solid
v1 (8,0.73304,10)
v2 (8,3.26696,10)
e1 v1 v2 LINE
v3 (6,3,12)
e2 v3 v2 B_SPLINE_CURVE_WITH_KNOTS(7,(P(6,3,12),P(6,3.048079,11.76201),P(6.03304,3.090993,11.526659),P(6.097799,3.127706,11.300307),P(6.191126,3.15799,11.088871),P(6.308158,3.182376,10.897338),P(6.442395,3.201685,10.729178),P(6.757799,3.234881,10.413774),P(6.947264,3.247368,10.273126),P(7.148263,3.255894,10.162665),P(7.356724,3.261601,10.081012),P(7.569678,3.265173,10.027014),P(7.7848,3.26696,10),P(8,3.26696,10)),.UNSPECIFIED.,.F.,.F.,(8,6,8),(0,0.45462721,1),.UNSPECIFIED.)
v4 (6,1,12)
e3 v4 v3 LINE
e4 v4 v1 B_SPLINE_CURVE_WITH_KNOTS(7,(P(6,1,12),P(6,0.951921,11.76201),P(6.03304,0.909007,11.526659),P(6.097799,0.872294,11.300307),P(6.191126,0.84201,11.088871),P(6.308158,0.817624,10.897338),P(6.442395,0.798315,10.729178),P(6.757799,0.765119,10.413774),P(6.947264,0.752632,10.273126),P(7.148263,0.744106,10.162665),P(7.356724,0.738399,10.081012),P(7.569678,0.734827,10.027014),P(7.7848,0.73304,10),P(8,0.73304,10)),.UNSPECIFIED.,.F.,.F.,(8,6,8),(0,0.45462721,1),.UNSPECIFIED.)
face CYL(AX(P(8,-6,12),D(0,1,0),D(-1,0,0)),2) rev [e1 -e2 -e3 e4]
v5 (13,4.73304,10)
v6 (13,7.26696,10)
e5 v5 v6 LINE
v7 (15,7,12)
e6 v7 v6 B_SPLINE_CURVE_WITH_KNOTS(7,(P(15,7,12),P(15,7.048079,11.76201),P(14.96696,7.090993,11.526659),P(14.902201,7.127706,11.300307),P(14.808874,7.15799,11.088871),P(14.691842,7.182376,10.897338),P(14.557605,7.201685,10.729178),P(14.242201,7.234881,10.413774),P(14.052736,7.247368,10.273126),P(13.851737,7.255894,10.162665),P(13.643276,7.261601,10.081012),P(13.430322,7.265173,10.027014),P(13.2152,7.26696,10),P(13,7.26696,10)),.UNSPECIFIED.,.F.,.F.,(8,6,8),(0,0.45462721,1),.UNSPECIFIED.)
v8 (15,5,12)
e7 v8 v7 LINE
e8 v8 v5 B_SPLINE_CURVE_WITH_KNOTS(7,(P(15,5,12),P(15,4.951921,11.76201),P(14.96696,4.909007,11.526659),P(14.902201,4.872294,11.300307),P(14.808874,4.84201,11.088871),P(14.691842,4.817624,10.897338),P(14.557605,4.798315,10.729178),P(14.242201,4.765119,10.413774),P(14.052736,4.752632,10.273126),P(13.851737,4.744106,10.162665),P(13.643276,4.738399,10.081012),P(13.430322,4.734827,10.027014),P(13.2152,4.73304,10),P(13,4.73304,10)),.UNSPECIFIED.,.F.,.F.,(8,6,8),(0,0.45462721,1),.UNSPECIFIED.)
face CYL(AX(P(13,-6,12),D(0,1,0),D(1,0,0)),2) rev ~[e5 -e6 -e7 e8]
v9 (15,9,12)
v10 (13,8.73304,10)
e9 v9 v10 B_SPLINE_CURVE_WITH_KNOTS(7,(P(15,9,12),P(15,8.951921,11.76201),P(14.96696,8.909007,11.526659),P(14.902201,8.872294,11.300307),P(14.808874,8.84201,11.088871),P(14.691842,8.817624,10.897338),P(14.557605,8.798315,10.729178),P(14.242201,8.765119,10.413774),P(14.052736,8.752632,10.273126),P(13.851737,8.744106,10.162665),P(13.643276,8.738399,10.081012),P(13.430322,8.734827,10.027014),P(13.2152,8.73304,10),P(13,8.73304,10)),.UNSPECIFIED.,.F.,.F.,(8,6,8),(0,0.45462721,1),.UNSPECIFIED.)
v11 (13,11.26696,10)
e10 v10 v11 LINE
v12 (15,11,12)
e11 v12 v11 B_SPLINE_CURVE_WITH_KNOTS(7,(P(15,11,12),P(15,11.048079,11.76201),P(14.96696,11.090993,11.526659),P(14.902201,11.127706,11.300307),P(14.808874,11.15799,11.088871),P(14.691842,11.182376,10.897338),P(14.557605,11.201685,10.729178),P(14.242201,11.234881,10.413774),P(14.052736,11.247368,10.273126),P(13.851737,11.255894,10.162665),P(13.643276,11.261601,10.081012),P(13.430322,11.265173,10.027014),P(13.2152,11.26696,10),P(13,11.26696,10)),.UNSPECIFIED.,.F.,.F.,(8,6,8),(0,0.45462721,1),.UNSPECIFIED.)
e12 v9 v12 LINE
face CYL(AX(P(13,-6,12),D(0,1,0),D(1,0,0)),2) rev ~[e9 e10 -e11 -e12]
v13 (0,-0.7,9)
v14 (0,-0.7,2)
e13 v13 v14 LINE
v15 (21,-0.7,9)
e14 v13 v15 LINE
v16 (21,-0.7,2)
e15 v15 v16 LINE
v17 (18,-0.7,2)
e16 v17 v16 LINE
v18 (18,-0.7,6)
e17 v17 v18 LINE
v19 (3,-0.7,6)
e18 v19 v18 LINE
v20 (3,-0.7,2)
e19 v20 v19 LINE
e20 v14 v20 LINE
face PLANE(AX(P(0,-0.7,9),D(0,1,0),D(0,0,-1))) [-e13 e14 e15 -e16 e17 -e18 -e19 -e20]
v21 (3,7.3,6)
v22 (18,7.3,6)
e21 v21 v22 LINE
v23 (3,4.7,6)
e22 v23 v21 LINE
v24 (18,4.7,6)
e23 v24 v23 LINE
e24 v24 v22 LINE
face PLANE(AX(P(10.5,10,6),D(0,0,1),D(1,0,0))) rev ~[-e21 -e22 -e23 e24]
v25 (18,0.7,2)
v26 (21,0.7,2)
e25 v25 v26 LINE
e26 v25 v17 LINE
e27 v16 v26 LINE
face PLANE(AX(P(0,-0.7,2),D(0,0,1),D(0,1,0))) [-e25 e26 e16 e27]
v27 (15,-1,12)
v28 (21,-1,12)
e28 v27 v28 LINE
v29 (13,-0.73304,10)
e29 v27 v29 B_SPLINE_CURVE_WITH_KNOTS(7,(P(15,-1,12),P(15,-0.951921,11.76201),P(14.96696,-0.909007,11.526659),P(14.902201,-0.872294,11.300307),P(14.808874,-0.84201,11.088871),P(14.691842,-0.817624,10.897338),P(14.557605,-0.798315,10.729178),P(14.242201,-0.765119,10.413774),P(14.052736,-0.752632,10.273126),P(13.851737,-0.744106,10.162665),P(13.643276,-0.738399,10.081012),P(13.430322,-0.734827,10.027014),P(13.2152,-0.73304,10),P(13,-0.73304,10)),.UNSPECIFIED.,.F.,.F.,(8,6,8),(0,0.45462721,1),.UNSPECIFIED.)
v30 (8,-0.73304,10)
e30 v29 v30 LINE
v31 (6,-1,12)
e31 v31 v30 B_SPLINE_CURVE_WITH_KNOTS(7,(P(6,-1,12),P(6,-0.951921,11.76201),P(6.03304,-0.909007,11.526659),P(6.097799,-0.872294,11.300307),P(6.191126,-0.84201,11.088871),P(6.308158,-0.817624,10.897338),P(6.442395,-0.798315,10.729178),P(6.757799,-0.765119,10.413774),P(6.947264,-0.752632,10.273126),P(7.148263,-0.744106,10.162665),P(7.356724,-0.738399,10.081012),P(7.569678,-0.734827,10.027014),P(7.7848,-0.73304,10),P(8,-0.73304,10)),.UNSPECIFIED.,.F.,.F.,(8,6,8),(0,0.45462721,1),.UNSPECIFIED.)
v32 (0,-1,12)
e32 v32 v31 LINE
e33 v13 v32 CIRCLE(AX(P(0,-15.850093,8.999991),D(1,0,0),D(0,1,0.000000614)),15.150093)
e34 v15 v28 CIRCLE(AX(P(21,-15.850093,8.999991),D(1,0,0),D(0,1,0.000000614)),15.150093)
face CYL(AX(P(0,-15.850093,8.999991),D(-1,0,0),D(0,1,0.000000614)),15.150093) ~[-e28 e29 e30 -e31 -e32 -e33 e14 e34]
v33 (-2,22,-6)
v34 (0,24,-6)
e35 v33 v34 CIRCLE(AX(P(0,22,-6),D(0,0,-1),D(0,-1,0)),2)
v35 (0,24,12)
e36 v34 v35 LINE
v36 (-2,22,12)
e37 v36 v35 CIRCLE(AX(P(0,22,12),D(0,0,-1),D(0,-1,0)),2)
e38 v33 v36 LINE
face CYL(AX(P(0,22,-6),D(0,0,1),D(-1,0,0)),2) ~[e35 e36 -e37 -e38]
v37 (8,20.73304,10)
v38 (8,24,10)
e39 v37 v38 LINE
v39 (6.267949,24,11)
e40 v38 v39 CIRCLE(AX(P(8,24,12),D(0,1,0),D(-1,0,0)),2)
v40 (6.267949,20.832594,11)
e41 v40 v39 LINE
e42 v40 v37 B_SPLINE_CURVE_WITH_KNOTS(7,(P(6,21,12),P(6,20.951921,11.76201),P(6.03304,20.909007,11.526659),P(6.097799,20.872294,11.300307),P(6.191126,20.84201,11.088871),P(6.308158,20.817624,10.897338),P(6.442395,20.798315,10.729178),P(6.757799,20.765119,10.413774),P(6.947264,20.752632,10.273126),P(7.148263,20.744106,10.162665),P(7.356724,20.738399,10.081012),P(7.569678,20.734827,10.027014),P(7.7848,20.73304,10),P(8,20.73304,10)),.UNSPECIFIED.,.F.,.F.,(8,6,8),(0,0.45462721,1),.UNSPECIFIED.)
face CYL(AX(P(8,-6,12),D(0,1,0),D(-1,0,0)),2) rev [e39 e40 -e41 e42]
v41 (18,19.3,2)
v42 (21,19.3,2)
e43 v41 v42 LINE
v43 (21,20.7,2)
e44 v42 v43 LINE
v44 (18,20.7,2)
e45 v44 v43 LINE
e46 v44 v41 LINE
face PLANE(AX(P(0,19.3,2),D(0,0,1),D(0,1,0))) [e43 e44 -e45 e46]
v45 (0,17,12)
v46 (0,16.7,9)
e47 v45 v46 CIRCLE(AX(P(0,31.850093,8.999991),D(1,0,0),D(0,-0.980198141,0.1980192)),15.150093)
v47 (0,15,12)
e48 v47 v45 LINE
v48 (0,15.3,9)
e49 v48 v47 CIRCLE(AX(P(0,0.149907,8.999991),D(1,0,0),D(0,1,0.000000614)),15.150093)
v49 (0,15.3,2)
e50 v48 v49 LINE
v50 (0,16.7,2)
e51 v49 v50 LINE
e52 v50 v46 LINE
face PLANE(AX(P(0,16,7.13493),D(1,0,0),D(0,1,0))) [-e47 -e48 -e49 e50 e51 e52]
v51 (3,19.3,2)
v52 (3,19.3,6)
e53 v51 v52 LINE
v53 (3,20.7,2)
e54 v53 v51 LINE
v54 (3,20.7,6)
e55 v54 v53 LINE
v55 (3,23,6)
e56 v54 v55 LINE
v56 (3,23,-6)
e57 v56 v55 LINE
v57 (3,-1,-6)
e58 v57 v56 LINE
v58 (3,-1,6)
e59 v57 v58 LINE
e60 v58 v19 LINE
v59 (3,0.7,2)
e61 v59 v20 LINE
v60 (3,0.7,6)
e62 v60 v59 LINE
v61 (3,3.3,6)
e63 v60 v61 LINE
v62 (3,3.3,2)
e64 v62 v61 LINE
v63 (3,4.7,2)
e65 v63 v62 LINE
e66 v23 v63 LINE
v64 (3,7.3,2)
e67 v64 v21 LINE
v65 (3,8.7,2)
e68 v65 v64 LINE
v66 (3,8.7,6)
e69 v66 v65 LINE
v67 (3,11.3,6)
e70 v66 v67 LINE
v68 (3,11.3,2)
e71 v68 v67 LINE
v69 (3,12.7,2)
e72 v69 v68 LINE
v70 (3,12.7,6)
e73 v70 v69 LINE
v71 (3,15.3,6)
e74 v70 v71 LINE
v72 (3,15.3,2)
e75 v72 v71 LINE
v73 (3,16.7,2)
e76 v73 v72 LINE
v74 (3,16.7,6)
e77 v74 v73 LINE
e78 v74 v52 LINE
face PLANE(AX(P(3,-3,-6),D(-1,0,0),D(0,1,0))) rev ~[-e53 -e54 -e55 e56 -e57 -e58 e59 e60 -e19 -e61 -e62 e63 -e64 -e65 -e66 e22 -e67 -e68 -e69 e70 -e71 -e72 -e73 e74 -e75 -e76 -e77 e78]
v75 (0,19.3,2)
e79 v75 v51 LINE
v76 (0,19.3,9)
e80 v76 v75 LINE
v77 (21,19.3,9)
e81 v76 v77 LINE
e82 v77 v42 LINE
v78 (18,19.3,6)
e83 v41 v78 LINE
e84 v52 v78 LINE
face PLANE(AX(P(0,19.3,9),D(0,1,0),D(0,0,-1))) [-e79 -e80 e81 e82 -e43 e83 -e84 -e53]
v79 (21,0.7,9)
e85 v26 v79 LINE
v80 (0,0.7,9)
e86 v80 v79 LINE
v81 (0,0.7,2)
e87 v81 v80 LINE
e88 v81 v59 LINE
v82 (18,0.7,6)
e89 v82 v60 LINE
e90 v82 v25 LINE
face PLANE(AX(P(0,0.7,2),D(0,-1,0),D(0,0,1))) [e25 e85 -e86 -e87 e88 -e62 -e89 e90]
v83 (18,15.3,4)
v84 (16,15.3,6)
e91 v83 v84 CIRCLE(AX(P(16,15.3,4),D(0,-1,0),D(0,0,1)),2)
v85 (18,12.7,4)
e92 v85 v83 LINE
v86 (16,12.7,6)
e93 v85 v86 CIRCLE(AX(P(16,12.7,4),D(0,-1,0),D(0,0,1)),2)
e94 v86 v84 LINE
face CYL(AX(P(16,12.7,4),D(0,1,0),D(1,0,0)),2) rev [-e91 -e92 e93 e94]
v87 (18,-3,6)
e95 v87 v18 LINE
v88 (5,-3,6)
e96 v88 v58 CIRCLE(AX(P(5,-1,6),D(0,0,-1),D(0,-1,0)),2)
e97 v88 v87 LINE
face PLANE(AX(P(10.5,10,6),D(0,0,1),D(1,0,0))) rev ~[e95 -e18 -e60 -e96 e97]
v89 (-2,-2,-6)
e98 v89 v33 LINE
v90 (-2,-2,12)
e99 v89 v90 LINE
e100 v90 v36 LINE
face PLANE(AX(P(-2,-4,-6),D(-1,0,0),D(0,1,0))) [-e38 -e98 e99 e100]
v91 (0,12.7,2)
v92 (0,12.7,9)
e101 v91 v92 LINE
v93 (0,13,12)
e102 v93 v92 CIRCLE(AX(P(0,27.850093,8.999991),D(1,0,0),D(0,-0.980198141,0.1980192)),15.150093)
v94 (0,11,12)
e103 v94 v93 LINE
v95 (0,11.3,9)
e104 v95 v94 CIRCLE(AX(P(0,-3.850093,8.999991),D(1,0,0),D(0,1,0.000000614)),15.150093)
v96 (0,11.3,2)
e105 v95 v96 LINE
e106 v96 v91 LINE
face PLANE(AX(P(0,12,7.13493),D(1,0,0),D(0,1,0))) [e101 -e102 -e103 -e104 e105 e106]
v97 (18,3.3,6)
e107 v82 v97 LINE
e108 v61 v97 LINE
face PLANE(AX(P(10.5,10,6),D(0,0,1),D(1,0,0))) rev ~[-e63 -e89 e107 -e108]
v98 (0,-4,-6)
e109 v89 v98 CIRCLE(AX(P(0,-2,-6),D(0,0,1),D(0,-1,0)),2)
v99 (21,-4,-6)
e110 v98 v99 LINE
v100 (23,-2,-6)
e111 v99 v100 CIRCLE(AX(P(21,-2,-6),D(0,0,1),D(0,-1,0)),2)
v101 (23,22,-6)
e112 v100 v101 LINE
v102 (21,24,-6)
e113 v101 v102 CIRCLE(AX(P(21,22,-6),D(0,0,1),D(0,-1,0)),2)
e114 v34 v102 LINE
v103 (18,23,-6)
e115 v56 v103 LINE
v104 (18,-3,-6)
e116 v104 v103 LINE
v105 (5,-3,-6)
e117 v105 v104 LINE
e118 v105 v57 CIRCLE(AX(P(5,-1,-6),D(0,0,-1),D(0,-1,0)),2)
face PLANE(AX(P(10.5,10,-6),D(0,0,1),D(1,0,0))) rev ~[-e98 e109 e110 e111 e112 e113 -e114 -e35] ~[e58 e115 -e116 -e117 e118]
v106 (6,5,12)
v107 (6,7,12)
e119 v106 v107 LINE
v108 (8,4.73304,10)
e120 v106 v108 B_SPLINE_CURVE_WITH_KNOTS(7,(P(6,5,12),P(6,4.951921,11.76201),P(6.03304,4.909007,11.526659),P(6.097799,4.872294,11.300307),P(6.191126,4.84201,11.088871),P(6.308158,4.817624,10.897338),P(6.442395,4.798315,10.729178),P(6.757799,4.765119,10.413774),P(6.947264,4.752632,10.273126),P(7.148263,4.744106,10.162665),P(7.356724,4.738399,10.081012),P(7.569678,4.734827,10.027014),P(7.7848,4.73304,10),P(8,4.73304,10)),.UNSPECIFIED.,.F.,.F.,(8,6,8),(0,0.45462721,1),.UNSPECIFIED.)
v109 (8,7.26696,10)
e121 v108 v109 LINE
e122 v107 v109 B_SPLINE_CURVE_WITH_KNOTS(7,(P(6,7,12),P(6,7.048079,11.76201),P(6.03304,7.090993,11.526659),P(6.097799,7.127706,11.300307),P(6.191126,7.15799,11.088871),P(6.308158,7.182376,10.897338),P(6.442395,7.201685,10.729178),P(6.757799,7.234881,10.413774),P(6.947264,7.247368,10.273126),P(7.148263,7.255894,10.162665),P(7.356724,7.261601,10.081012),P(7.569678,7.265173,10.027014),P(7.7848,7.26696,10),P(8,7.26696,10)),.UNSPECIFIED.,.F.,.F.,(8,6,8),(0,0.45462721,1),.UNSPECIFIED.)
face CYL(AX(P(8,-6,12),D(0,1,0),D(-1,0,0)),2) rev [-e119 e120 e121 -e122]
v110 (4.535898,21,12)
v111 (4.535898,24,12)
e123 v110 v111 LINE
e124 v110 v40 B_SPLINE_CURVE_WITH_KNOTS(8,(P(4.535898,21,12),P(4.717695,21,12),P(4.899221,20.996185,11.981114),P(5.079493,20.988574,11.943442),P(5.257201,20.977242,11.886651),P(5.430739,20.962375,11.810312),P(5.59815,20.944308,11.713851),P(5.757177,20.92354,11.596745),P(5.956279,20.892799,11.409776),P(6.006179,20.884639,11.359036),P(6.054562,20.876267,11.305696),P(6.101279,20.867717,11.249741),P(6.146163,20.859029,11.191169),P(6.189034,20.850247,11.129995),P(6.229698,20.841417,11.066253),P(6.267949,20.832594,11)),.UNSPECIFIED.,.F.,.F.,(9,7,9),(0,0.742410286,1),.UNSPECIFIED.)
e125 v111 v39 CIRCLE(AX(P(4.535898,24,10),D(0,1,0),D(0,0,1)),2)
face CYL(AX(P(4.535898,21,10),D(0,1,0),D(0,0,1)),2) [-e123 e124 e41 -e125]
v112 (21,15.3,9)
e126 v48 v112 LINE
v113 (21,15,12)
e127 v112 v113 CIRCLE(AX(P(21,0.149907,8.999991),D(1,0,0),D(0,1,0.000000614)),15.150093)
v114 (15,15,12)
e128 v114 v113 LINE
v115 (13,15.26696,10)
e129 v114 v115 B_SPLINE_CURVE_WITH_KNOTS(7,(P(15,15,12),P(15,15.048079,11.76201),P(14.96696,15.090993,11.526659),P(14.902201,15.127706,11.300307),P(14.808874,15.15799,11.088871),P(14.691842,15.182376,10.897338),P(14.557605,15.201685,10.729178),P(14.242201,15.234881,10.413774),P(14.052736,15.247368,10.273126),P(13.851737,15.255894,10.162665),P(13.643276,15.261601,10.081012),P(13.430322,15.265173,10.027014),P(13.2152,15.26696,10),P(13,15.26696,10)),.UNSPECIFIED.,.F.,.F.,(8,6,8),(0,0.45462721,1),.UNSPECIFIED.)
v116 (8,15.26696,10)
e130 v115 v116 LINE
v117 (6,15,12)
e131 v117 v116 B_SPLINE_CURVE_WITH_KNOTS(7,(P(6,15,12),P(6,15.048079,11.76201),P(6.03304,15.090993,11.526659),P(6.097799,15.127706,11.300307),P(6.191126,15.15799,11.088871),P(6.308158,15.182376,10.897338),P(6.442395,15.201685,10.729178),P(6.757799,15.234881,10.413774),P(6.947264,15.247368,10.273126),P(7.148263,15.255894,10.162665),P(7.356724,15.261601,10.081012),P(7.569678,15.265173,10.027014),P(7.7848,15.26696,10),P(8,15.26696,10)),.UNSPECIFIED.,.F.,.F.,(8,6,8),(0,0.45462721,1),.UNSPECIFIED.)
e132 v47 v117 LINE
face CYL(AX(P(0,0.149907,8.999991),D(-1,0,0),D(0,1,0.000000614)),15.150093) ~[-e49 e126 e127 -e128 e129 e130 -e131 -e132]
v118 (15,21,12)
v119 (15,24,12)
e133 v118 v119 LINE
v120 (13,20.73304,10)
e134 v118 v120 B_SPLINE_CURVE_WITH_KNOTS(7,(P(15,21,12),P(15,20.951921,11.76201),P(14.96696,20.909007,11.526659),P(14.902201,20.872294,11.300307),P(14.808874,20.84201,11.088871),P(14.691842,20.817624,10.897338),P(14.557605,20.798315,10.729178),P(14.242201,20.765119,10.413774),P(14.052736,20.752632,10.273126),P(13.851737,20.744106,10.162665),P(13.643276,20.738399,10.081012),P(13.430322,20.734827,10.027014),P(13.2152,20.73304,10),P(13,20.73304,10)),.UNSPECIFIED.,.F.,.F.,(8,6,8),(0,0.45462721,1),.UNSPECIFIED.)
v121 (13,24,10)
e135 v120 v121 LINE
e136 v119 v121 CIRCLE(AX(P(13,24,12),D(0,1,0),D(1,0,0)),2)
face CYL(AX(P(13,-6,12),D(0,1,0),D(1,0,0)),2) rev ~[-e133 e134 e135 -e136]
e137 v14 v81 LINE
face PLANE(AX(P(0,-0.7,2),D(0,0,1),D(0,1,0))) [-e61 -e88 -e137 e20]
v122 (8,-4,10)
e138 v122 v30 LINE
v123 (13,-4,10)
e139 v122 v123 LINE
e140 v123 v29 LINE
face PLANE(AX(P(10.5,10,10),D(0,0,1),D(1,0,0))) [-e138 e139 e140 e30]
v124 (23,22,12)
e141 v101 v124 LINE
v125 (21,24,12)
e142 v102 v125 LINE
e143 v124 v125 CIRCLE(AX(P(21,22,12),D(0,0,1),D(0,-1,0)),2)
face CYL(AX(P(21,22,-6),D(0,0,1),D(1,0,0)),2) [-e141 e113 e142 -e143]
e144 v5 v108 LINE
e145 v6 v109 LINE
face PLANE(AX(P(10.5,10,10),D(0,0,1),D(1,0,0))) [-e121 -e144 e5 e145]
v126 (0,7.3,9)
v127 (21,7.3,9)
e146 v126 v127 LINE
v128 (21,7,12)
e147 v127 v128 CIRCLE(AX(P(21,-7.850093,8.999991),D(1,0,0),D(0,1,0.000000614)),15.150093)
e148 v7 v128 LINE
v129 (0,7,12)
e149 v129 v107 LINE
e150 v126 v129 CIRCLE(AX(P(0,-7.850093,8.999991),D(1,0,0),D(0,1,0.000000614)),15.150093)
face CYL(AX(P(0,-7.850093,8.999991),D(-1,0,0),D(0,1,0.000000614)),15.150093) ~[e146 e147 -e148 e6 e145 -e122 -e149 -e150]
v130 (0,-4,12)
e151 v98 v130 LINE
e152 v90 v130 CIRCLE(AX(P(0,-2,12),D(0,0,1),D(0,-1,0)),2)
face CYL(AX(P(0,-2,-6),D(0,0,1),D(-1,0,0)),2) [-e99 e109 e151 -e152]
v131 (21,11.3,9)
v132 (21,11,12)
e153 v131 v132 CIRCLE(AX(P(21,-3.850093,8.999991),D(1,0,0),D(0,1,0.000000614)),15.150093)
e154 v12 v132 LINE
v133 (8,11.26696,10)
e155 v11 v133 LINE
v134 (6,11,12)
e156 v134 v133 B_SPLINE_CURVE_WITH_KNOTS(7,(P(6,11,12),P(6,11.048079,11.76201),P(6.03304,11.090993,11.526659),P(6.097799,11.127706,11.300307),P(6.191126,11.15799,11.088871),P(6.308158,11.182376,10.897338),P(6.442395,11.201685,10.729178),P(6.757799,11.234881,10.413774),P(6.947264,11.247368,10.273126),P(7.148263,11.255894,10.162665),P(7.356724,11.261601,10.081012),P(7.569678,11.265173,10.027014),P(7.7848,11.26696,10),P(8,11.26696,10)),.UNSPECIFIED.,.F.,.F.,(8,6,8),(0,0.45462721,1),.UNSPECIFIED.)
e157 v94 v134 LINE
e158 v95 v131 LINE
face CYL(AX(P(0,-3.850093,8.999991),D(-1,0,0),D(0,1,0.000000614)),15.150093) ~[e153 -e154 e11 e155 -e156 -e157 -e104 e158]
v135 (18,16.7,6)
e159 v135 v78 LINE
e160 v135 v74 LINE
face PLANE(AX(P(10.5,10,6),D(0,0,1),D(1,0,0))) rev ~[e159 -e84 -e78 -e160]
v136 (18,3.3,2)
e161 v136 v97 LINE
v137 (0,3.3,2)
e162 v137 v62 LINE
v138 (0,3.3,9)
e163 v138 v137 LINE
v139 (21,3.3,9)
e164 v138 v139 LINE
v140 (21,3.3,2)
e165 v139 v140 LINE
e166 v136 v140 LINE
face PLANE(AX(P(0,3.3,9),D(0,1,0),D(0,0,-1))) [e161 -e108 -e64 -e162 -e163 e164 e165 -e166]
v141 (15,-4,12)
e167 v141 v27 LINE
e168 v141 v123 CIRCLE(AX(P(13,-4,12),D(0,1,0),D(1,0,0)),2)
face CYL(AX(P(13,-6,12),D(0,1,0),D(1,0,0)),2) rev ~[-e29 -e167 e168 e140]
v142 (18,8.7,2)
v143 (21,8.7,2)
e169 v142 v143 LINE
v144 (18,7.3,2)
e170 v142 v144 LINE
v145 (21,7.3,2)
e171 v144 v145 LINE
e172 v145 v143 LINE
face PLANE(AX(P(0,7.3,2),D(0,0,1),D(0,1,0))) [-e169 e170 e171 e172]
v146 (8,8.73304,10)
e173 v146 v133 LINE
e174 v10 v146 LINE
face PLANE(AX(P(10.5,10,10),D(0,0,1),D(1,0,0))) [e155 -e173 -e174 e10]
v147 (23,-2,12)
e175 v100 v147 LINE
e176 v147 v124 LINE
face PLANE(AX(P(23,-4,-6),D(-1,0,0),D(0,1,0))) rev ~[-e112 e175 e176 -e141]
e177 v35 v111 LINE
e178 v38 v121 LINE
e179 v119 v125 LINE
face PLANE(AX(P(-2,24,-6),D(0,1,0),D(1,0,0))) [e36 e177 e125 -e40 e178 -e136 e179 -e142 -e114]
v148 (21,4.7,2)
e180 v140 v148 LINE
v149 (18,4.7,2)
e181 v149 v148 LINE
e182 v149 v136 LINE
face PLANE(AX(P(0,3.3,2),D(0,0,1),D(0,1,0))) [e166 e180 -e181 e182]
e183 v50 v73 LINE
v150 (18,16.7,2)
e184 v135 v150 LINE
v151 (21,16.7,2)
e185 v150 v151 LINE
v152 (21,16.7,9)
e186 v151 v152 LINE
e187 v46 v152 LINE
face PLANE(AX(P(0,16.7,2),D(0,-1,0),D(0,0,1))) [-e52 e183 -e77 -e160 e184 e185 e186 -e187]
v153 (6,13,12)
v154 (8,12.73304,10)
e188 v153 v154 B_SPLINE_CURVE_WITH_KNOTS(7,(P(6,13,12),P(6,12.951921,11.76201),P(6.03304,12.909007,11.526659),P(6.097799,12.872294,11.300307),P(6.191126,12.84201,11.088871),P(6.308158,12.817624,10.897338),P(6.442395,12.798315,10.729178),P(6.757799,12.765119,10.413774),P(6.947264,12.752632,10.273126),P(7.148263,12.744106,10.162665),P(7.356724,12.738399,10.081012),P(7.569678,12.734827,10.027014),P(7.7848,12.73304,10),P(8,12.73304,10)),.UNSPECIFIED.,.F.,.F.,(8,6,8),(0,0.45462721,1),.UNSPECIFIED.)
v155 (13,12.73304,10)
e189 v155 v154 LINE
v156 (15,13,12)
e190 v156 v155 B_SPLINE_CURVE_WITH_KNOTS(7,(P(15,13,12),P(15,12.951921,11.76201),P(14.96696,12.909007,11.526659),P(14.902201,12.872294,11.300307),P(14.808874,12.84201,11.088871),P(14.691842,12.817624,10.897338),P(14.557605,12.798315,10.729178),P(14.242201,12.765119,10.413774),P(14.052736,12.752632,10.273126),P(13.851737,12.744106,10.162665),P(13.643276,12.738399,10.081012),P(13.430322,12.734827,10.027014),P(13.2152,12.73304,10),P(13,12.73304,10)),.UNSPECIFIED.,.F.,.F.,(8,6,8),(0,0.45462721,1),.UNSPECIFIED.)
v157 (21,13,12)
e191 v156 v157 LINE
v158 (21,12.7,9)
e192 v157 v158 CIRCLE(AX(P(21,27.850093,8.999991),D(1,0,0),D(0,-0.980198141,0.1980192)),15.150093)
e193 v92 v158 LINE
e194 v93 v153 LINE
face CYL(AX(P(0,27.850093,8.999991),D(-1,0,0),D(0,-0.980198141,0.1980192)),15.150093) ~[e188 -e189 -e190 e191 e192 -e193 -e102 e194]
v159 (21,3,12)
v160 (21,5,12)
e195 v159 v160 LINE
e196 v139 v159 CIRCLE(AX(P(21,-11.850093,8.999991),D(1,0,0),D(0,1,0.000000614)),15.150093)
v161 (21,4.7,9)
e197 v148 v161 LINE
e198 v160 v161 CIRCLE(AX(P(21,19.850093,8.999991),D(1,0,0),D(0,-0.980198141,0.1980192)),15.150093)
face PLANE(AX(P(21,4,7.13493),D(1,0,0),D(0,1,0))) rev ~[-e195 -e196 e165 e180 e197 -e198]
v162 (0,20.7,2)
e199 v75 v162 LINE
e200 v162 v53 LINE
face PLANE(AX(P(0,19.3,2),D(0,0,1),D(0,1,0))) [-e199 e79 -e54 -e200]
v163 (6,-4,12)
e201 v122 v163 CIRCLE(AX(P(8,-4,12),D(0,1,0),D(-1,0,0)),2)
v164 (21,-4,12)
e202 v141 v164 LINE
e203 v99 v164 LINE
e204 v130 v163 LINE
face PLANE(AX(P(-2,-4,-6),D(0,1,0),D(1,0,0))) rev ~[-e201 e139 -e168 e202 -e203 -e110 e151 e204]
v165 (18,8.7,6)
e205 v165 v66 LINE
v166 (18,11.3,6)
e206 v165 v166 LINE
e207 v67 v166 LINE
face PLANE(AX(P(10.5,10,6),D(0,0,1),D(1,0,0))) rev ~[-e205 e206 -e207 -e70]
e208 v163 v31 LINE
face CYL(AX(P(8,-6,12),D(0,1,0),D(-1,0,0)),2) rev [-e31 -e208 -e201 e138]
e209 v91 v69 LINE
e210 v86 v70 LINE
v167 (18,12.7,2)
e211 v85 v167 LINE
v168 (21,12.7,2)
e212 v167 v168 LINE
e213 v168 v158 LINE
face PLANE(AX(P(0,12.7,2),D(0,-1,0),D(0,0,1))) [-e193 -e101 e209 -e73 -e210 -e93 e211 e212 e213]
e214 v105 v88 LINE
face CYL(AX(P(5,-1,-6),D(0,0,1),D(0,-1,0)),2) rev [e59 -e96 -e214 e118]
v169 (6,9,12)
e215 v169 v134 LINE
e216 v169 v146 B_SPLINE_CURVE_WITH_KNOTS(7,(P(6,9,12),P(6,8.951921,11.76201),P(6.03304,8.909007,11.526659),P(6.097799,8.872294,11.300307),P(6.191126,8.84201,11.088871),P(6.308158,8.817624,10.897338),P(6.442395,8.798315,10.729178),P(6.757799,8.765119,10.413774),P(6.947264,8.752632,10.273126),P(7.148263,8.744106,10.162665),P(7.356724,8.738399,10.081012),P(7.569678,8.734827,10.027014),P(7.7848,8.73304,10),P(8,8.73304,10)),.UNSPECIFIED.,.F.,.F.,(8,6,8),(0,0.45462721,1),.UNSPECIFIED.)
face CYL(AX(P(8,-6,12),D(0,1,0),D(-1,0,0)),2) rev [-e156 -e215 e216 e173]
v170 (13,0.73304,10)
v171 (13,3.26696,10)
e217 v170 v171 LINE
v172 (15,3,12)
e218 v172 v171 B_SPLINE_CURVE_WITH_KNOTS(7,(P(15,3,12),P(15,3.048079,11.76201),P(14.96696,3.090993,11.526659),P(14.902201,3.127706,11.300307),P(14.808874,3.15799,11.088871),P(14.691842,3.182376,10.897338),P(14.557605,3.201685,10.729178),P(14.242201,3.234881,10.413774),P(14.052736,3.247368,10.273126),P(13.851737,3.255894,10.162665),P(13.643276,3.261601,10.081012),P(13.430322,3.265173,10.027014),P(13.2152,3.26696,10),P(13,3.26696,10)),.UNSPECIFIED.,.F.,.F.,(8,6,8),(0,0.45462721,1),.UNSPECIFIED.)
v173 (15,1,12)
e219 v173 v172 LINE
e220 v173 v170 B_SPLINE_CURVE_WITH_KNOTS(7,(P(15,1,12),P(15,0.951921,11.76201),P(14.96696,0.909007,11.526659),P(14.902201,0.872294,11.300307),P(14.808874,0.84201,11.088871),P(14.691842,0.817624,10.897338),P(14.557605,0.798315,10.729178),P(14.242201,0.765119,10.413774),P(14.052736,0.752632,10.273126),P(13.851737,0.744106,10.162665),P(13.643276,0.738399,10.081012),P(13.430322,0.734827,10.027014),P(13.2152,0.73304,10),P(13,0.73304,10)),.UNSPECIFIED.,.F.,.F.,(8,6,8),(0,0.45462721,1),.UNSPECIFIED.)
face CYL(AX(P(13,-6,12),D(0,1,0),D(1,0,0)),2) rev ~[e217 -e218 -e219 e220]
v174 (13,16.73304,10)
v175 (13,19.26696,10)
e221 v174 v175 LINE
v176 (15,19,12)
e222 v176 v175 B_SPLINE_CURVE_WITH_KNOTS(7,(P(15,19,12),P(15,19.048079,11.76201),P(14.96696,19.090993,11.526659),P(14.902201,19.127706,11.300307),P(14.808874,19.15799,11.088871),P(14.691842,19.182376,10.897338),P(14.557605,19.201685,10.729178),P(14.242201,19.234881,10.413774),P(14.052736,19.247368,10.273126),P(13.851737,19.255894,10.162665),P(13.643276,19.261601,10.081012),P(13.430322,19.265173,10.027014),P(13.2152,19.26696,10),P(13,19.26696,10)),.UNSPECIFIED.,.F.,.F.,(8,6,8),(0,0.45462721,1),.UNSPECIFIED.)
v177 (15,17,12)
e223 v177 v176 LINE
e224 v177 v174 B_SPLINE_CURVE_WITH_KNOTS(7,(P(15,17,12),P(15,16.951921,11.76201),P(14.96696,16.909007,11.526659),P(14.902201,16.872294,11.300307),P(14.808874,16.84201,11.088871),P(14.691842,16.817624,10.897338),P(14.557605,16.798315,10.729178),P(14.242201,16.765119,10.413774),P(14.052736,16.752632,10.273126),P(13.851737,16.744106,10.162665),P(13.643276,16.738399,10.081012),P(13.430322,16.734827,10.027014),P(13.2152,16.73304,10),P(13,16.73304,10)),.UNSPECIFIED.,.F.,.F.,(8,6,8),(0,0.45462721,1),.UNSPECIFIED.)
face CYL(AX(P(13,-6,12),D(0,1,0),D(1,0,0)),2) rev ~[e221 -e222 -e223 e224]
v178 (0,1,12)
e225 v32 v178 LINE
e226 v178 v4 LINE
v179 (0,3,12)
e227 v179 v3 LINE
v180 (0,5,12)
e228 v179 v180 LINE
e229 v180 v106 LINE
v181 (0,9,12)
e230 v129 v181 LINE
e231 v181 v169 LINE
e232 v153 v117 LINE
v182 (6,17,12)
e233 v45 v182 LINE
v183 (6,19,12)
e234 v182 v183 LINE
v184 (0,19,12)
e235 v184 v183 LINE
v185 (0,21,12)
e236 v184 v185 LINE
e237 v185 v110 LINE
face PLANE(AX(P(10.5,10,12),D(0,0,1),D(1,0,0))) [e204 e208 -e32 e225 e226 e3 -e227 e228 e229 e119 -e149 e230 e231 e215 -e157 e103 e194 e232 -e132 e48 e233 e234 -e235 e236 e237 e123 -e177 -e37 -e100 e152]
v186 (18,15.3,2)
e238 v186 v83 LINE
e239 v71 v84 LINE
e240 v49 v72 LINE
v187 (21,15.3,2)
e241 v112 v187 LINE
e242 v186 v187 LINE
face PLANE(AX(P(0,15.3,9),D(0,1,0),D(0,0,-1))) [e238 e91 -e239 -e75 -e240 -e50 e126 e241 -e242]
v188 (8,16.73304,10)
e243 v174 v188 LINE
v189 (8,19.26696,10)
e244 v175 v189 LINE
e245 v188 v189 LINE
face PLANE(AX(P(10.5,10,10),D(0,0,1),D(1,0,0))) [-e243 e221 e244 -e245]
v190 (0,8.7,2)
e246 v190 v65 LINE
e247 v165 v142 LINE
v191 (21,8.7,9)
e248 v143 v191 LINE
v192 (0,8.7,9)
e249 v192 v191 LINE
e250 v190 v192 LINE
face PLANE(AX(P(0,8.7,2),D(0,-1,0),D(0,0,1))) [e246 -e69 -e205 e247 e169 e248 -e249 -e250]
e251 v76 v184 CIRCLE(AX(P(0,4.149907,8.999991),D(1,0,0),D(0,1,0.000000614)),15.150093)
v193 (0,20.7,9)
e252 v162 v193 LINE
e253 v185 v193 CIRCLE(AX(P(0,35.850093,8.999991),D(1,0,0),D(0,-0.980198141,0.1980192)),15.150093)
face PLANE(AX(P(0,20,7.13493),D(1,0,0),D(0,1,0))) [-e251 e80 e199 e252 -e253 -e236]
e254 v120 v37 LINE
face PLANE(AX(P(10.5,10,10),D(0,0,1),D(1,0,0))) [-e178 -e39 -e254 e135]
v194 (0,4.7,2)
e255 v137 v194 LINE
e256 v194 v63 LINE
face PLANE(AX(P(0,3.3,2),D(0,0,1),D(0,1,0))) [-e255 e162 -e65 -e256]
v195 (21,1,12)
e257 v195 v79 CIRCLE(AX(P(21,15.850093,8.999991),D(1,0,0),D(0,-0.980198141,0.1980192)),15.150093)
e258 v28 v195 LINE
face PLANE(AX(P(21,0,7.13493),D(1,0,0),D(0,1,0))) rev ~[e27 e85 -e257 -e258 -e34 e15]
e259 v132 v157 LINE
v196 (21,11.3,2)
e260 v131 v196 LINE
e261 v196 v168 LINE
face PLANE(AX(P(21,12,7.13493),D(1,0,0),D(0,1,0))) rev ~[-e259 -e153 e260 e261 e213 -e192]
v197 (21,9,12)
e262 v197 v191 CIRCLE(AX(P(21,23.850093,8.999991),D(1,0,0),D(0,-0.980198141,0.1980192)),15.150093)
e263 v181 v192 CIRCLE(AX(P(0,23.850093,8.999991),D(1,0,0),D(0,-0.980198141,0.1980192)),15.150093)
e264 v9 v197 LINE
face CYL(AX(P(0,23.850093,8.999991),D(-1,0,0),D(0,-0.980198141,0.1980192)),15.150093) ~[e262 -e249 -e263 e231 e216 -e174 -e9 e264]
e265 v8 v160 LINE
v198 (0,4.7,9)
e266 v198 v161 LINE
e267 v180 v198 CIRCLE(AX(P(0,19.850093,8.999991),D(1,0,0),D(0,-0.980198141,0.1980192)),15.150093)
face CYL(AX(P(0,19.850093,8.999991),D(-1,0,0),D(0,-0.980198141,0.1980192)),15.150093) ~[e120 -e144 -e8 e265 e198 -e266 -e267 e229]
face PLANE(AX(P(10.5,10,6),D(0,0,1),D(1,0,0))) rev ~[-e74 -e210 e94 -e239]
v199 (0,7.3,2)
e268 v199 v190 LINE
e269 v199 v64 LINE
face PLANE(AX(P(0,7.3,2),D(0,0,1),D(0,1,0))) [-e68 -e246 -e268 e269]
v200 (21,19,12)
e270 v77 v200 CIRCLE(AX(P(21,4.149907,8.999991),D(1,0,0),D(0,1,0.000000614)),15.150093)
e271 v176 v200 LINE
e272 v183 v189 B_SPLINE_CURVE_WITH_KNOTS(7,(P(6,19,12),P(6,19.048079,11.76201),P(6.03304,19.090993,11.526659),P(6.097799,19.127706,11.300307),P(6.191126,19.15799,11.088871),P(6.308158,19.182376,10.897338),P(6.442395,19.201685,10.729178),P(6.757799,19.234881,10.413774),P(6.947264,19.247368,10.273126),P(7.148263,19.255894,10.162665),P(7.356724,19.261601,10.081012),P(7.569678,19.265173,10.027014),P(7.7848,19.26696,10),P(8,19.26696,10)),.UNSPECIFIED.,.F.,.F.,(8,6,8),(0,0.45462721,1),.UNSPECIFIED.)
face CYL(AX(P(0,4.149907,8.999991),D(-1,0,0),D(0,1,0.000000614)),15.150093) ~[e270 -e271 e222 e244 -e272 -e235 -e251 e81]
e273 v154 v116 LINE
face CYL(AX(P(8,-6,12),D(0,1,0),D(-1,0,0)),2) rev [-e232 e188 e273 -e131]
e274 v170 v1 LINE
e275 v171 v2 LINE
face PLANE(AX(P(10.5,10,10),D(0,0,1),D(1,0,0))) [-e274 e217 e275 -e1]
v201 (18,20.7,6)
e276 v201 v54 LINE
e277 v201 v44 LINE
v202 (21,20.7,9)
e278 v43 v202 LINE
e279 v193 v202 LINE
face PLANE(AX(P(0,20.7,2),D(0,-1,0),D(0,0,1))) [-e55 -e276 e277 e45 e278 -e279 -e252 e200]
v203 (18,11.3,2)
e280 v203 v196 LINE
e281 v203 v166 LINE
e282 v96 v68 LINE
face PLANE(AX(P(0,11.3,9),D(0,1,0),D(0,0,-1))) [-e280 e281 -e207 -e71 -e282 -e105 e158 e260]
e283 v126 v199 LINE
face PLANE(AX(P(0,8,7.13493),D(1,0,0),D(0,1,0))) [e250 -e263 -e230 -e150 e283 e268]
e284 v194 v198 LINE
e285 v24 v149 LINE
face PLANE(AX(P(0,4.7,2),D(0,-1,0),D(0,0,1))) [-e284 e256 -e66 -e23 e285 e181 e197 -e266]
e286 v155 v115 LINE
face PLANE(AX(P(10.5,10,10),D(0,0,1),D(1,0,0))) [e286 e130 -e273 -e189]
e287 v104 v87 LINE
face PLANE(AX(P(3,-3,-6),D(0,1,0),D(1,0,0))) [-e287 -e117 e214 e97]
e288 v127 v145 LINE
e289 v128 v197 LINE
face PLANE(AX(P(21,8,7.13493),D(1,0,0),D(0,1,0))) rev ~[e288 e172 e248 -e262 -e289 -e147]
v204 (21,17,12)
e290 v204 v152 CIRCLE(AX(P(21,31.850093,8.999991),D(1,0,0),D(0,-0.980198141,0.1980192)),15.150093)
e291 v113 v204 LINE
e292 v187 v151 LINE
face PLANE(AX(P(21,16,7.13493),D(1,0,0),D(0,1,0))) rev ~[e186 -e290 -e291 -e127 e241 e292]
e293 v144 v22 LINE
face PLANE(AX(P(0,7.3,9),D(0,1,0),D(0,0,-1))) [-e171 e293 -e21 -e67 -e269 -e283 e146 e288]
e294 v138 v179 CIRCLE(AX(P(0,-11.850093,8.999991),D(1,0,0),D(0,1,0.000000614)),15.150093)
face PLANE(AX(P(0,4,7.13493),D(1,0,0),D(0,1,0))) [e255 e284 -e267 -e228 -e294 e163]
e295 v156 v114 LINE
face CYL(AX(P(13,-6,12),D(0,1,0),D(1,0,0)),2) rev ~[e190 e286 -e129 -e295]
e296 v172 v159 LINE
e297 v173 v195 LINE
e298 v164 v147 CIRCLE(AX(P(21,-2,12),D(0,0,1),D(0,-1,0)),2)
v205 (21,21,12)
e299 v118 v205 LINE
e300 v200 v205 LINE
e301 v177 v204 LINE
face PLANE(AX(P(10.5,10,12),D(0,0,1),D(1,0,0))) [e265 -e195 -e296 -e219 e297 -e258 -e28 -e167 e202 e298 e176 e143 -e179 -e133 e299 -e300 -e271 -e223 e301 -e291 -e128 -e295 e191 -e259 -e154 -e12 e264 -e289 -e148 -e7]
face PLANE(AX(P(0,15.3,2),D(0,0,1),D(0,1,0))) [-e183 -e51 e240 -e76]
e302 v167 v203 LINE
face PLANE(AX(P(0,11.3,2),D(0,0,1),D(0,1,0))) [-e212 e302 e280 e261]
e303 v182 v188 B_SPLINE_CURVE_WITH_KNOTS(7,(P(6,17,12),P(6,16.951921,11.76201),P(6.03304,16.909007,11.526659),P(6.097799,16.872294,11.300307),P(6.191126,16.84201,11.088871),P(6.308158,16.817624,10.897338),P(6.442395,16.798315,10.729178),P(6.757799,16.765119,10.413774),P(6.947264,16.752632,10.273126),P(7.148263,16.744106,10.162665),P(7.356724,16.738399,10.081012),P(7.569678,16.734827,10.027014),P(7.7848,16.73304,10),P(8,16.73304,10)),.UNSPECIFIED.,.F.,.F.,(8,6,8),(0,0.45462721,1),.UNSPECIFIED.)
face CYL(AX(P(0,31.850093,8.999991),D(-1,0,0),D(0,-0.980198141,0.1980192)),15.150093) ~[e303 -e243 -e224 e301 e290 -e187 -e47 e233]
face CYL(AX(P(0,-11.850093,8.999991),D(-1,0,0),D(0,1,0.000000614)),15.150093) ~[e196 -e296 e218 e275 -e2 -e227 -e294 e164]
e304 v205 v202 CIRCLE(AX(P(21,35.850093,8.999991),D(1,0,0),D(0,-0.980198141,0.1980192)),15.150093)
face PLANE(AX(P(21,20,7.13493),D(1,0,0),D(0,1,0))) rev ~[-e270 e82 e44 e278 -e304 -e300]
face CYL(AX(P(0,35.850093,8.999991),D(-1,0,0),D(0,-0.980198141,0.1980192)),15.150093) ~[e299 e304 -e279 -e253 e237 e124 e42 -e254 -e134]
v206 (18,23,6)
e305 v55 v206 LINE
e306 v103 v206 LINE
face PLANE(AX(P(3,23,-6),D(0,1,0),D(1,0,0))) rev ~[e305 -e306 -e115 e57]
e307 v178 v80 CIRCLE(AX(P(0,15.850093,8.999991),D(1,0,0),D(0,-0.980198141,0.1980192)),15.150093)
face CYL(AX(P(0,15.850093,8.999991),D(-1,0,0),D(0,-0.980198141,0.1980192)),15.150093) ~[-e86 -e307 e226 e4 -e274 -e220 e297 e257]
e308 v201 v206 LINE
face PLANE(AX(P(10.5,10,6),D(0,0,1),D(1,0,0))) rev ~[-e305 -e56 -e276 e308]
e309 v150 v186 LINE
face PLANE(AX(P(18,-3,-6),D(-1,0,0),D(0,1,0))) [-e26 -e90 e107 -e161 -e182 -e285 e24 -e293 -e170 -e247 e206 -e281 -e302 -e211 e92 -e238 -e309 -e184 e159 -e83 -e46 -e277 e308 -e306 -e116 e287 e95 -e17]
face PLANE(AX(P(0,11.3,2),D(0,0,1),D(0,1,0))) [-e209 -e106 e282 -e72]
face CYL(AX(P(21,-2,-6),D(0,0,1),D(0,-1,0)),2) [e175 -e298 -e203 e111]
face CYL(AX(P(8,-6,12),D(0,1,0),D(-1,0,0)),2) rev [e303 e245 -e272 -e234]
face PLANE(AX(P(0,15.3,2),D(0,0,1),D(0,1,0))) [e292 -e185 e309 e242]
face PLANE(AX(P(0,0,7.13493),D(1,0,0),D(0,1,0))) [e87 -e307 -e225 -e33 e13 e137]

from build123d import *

# Parameters (mm, degrees)
BOX004_W         = 15
BOX004_H         = 26
BOX004_DEPTH     = 12
BOX005_W         = 9
BOX005_H         = 32
BOX005_DEPTH     = 8
FILLET004_R      = 2
PAD001_DEPTH     = 21
ARRAY001_Y_COUNT = 6
ARRAY001_Y_PITCH = 4
BOX003_W         = 25
BOX003_H         = 28
BOX003_DEPTH     = 18
FILLET003_R      = 2
FILLET005_R      = 2


with BuildPart() as cover_internal_cube:
    # Box004 → Box004 (new body)
    with BuildSketch(Plane(origin=(3, -3, -6), x_dir=(1, 0, 0), z_dir=(0, 0, 1))):
        with Locations((7.5, 13)):
            Rectangle(BOX004_W, BOX004_H)
    extrude(amount=BOX004_DEPTH)


with BuildPart() as middle_extract_cube_fillet001:
    # Box005 → Box005 (new body)
    with BuildSketch(Plane(origin=(6, -6, 10), x_dir=(1, 0, 0), z_dir=(0, 0, 1))):
        with Locations((4.5, 16)):
            Rectangle(BOX005_W, BOX005_H)
    extrude(amount=BOX005_DEPTH)

    # Fillet004
    fillet004_edges = [middle_extract_cube_fillet001.edges().sort_by_distance(p)[0] for p in [
        (6, 10, 10),
        (15, 10, 10),
    ]]
    fillet(fillet004_edges, radius=FILLET004_R)


with BuildPart() as extract_fusion001:
    # Sketch001 → Pad001 (new body)
    with BuildSketch(Plane.YZ):
        with BuildLine():
            Line((-0.7, 9), (-0.7, 2))
            Line((-0.7, 2), (0.7, 2))
            Line((0.7, 2), (0.7, 9))
            ThreePointArc((1, 12), (0.775187, 10.507481), (0.7, 9))
            Line((-1, 12), (1, 12))
            ThreePointArc((-0.7, 9), (-0.775187, 10.507481), (-1, 12))
        make_face()
    extrude(amount=PAD001_DEPTH)

    # Array001 Y: extract fusion001 ×6


with BuildPart() as extract_fusion001_1:
    add(extract_fusion001.part)
    with Locations(*[(0, i * ARRAY001_Y_PITCH, 0) for i in range(1, ARRAY001_Y_COUNT)]):
        add(extract_fusion001.part)

    # Fusion001: union cover internal cube, middle extract cube fillet001
    add(cover_internal_cube.part)
    add(middle_extract_cube_fillet001.part)


with BuildPart() as cover_glass_box_fillet:
    # Box003 → Box003 (new body)
    with BuildSketch(Plane(origin=(-2, -4, -6), x_dir=(1, 0, 0), z_dir=(0, 0, 1))):
        with Locations((12.5, 14)):
            Rectangle(BOX003_W, BOX003_H)
    extrude(amount=BOX003_DEPTH)

    # Fillet003
    fillet003_edges = [cover_glass_box_fillet.edges().sort_by_distance(p)[0] for p in [
        (-2, -4, 3),
        (-2, 24, 3),
        (23, -4, 3),
        (23, 24, 3),
    ]]
    fillet(fillet003_edges, radius=FILLET003_R)

    # Cut001: cut extract fusion001
    add(extract_fusion001_1.part, mode=Mode.SUBTRACT)

    # Fillet005
    fillet005_edges = [cover_glass_box_fillet.edges().sort_by_distance(p)[0] for p in [
        (6, 22.5, 12),
        (0, -4, 3),
        (3, -3, 0),
        (18, 14, 6),
    ]]
    fillet(fillet005_edges, radius=FILLET005_R)


solid = cover_glass_box_fillet.part
